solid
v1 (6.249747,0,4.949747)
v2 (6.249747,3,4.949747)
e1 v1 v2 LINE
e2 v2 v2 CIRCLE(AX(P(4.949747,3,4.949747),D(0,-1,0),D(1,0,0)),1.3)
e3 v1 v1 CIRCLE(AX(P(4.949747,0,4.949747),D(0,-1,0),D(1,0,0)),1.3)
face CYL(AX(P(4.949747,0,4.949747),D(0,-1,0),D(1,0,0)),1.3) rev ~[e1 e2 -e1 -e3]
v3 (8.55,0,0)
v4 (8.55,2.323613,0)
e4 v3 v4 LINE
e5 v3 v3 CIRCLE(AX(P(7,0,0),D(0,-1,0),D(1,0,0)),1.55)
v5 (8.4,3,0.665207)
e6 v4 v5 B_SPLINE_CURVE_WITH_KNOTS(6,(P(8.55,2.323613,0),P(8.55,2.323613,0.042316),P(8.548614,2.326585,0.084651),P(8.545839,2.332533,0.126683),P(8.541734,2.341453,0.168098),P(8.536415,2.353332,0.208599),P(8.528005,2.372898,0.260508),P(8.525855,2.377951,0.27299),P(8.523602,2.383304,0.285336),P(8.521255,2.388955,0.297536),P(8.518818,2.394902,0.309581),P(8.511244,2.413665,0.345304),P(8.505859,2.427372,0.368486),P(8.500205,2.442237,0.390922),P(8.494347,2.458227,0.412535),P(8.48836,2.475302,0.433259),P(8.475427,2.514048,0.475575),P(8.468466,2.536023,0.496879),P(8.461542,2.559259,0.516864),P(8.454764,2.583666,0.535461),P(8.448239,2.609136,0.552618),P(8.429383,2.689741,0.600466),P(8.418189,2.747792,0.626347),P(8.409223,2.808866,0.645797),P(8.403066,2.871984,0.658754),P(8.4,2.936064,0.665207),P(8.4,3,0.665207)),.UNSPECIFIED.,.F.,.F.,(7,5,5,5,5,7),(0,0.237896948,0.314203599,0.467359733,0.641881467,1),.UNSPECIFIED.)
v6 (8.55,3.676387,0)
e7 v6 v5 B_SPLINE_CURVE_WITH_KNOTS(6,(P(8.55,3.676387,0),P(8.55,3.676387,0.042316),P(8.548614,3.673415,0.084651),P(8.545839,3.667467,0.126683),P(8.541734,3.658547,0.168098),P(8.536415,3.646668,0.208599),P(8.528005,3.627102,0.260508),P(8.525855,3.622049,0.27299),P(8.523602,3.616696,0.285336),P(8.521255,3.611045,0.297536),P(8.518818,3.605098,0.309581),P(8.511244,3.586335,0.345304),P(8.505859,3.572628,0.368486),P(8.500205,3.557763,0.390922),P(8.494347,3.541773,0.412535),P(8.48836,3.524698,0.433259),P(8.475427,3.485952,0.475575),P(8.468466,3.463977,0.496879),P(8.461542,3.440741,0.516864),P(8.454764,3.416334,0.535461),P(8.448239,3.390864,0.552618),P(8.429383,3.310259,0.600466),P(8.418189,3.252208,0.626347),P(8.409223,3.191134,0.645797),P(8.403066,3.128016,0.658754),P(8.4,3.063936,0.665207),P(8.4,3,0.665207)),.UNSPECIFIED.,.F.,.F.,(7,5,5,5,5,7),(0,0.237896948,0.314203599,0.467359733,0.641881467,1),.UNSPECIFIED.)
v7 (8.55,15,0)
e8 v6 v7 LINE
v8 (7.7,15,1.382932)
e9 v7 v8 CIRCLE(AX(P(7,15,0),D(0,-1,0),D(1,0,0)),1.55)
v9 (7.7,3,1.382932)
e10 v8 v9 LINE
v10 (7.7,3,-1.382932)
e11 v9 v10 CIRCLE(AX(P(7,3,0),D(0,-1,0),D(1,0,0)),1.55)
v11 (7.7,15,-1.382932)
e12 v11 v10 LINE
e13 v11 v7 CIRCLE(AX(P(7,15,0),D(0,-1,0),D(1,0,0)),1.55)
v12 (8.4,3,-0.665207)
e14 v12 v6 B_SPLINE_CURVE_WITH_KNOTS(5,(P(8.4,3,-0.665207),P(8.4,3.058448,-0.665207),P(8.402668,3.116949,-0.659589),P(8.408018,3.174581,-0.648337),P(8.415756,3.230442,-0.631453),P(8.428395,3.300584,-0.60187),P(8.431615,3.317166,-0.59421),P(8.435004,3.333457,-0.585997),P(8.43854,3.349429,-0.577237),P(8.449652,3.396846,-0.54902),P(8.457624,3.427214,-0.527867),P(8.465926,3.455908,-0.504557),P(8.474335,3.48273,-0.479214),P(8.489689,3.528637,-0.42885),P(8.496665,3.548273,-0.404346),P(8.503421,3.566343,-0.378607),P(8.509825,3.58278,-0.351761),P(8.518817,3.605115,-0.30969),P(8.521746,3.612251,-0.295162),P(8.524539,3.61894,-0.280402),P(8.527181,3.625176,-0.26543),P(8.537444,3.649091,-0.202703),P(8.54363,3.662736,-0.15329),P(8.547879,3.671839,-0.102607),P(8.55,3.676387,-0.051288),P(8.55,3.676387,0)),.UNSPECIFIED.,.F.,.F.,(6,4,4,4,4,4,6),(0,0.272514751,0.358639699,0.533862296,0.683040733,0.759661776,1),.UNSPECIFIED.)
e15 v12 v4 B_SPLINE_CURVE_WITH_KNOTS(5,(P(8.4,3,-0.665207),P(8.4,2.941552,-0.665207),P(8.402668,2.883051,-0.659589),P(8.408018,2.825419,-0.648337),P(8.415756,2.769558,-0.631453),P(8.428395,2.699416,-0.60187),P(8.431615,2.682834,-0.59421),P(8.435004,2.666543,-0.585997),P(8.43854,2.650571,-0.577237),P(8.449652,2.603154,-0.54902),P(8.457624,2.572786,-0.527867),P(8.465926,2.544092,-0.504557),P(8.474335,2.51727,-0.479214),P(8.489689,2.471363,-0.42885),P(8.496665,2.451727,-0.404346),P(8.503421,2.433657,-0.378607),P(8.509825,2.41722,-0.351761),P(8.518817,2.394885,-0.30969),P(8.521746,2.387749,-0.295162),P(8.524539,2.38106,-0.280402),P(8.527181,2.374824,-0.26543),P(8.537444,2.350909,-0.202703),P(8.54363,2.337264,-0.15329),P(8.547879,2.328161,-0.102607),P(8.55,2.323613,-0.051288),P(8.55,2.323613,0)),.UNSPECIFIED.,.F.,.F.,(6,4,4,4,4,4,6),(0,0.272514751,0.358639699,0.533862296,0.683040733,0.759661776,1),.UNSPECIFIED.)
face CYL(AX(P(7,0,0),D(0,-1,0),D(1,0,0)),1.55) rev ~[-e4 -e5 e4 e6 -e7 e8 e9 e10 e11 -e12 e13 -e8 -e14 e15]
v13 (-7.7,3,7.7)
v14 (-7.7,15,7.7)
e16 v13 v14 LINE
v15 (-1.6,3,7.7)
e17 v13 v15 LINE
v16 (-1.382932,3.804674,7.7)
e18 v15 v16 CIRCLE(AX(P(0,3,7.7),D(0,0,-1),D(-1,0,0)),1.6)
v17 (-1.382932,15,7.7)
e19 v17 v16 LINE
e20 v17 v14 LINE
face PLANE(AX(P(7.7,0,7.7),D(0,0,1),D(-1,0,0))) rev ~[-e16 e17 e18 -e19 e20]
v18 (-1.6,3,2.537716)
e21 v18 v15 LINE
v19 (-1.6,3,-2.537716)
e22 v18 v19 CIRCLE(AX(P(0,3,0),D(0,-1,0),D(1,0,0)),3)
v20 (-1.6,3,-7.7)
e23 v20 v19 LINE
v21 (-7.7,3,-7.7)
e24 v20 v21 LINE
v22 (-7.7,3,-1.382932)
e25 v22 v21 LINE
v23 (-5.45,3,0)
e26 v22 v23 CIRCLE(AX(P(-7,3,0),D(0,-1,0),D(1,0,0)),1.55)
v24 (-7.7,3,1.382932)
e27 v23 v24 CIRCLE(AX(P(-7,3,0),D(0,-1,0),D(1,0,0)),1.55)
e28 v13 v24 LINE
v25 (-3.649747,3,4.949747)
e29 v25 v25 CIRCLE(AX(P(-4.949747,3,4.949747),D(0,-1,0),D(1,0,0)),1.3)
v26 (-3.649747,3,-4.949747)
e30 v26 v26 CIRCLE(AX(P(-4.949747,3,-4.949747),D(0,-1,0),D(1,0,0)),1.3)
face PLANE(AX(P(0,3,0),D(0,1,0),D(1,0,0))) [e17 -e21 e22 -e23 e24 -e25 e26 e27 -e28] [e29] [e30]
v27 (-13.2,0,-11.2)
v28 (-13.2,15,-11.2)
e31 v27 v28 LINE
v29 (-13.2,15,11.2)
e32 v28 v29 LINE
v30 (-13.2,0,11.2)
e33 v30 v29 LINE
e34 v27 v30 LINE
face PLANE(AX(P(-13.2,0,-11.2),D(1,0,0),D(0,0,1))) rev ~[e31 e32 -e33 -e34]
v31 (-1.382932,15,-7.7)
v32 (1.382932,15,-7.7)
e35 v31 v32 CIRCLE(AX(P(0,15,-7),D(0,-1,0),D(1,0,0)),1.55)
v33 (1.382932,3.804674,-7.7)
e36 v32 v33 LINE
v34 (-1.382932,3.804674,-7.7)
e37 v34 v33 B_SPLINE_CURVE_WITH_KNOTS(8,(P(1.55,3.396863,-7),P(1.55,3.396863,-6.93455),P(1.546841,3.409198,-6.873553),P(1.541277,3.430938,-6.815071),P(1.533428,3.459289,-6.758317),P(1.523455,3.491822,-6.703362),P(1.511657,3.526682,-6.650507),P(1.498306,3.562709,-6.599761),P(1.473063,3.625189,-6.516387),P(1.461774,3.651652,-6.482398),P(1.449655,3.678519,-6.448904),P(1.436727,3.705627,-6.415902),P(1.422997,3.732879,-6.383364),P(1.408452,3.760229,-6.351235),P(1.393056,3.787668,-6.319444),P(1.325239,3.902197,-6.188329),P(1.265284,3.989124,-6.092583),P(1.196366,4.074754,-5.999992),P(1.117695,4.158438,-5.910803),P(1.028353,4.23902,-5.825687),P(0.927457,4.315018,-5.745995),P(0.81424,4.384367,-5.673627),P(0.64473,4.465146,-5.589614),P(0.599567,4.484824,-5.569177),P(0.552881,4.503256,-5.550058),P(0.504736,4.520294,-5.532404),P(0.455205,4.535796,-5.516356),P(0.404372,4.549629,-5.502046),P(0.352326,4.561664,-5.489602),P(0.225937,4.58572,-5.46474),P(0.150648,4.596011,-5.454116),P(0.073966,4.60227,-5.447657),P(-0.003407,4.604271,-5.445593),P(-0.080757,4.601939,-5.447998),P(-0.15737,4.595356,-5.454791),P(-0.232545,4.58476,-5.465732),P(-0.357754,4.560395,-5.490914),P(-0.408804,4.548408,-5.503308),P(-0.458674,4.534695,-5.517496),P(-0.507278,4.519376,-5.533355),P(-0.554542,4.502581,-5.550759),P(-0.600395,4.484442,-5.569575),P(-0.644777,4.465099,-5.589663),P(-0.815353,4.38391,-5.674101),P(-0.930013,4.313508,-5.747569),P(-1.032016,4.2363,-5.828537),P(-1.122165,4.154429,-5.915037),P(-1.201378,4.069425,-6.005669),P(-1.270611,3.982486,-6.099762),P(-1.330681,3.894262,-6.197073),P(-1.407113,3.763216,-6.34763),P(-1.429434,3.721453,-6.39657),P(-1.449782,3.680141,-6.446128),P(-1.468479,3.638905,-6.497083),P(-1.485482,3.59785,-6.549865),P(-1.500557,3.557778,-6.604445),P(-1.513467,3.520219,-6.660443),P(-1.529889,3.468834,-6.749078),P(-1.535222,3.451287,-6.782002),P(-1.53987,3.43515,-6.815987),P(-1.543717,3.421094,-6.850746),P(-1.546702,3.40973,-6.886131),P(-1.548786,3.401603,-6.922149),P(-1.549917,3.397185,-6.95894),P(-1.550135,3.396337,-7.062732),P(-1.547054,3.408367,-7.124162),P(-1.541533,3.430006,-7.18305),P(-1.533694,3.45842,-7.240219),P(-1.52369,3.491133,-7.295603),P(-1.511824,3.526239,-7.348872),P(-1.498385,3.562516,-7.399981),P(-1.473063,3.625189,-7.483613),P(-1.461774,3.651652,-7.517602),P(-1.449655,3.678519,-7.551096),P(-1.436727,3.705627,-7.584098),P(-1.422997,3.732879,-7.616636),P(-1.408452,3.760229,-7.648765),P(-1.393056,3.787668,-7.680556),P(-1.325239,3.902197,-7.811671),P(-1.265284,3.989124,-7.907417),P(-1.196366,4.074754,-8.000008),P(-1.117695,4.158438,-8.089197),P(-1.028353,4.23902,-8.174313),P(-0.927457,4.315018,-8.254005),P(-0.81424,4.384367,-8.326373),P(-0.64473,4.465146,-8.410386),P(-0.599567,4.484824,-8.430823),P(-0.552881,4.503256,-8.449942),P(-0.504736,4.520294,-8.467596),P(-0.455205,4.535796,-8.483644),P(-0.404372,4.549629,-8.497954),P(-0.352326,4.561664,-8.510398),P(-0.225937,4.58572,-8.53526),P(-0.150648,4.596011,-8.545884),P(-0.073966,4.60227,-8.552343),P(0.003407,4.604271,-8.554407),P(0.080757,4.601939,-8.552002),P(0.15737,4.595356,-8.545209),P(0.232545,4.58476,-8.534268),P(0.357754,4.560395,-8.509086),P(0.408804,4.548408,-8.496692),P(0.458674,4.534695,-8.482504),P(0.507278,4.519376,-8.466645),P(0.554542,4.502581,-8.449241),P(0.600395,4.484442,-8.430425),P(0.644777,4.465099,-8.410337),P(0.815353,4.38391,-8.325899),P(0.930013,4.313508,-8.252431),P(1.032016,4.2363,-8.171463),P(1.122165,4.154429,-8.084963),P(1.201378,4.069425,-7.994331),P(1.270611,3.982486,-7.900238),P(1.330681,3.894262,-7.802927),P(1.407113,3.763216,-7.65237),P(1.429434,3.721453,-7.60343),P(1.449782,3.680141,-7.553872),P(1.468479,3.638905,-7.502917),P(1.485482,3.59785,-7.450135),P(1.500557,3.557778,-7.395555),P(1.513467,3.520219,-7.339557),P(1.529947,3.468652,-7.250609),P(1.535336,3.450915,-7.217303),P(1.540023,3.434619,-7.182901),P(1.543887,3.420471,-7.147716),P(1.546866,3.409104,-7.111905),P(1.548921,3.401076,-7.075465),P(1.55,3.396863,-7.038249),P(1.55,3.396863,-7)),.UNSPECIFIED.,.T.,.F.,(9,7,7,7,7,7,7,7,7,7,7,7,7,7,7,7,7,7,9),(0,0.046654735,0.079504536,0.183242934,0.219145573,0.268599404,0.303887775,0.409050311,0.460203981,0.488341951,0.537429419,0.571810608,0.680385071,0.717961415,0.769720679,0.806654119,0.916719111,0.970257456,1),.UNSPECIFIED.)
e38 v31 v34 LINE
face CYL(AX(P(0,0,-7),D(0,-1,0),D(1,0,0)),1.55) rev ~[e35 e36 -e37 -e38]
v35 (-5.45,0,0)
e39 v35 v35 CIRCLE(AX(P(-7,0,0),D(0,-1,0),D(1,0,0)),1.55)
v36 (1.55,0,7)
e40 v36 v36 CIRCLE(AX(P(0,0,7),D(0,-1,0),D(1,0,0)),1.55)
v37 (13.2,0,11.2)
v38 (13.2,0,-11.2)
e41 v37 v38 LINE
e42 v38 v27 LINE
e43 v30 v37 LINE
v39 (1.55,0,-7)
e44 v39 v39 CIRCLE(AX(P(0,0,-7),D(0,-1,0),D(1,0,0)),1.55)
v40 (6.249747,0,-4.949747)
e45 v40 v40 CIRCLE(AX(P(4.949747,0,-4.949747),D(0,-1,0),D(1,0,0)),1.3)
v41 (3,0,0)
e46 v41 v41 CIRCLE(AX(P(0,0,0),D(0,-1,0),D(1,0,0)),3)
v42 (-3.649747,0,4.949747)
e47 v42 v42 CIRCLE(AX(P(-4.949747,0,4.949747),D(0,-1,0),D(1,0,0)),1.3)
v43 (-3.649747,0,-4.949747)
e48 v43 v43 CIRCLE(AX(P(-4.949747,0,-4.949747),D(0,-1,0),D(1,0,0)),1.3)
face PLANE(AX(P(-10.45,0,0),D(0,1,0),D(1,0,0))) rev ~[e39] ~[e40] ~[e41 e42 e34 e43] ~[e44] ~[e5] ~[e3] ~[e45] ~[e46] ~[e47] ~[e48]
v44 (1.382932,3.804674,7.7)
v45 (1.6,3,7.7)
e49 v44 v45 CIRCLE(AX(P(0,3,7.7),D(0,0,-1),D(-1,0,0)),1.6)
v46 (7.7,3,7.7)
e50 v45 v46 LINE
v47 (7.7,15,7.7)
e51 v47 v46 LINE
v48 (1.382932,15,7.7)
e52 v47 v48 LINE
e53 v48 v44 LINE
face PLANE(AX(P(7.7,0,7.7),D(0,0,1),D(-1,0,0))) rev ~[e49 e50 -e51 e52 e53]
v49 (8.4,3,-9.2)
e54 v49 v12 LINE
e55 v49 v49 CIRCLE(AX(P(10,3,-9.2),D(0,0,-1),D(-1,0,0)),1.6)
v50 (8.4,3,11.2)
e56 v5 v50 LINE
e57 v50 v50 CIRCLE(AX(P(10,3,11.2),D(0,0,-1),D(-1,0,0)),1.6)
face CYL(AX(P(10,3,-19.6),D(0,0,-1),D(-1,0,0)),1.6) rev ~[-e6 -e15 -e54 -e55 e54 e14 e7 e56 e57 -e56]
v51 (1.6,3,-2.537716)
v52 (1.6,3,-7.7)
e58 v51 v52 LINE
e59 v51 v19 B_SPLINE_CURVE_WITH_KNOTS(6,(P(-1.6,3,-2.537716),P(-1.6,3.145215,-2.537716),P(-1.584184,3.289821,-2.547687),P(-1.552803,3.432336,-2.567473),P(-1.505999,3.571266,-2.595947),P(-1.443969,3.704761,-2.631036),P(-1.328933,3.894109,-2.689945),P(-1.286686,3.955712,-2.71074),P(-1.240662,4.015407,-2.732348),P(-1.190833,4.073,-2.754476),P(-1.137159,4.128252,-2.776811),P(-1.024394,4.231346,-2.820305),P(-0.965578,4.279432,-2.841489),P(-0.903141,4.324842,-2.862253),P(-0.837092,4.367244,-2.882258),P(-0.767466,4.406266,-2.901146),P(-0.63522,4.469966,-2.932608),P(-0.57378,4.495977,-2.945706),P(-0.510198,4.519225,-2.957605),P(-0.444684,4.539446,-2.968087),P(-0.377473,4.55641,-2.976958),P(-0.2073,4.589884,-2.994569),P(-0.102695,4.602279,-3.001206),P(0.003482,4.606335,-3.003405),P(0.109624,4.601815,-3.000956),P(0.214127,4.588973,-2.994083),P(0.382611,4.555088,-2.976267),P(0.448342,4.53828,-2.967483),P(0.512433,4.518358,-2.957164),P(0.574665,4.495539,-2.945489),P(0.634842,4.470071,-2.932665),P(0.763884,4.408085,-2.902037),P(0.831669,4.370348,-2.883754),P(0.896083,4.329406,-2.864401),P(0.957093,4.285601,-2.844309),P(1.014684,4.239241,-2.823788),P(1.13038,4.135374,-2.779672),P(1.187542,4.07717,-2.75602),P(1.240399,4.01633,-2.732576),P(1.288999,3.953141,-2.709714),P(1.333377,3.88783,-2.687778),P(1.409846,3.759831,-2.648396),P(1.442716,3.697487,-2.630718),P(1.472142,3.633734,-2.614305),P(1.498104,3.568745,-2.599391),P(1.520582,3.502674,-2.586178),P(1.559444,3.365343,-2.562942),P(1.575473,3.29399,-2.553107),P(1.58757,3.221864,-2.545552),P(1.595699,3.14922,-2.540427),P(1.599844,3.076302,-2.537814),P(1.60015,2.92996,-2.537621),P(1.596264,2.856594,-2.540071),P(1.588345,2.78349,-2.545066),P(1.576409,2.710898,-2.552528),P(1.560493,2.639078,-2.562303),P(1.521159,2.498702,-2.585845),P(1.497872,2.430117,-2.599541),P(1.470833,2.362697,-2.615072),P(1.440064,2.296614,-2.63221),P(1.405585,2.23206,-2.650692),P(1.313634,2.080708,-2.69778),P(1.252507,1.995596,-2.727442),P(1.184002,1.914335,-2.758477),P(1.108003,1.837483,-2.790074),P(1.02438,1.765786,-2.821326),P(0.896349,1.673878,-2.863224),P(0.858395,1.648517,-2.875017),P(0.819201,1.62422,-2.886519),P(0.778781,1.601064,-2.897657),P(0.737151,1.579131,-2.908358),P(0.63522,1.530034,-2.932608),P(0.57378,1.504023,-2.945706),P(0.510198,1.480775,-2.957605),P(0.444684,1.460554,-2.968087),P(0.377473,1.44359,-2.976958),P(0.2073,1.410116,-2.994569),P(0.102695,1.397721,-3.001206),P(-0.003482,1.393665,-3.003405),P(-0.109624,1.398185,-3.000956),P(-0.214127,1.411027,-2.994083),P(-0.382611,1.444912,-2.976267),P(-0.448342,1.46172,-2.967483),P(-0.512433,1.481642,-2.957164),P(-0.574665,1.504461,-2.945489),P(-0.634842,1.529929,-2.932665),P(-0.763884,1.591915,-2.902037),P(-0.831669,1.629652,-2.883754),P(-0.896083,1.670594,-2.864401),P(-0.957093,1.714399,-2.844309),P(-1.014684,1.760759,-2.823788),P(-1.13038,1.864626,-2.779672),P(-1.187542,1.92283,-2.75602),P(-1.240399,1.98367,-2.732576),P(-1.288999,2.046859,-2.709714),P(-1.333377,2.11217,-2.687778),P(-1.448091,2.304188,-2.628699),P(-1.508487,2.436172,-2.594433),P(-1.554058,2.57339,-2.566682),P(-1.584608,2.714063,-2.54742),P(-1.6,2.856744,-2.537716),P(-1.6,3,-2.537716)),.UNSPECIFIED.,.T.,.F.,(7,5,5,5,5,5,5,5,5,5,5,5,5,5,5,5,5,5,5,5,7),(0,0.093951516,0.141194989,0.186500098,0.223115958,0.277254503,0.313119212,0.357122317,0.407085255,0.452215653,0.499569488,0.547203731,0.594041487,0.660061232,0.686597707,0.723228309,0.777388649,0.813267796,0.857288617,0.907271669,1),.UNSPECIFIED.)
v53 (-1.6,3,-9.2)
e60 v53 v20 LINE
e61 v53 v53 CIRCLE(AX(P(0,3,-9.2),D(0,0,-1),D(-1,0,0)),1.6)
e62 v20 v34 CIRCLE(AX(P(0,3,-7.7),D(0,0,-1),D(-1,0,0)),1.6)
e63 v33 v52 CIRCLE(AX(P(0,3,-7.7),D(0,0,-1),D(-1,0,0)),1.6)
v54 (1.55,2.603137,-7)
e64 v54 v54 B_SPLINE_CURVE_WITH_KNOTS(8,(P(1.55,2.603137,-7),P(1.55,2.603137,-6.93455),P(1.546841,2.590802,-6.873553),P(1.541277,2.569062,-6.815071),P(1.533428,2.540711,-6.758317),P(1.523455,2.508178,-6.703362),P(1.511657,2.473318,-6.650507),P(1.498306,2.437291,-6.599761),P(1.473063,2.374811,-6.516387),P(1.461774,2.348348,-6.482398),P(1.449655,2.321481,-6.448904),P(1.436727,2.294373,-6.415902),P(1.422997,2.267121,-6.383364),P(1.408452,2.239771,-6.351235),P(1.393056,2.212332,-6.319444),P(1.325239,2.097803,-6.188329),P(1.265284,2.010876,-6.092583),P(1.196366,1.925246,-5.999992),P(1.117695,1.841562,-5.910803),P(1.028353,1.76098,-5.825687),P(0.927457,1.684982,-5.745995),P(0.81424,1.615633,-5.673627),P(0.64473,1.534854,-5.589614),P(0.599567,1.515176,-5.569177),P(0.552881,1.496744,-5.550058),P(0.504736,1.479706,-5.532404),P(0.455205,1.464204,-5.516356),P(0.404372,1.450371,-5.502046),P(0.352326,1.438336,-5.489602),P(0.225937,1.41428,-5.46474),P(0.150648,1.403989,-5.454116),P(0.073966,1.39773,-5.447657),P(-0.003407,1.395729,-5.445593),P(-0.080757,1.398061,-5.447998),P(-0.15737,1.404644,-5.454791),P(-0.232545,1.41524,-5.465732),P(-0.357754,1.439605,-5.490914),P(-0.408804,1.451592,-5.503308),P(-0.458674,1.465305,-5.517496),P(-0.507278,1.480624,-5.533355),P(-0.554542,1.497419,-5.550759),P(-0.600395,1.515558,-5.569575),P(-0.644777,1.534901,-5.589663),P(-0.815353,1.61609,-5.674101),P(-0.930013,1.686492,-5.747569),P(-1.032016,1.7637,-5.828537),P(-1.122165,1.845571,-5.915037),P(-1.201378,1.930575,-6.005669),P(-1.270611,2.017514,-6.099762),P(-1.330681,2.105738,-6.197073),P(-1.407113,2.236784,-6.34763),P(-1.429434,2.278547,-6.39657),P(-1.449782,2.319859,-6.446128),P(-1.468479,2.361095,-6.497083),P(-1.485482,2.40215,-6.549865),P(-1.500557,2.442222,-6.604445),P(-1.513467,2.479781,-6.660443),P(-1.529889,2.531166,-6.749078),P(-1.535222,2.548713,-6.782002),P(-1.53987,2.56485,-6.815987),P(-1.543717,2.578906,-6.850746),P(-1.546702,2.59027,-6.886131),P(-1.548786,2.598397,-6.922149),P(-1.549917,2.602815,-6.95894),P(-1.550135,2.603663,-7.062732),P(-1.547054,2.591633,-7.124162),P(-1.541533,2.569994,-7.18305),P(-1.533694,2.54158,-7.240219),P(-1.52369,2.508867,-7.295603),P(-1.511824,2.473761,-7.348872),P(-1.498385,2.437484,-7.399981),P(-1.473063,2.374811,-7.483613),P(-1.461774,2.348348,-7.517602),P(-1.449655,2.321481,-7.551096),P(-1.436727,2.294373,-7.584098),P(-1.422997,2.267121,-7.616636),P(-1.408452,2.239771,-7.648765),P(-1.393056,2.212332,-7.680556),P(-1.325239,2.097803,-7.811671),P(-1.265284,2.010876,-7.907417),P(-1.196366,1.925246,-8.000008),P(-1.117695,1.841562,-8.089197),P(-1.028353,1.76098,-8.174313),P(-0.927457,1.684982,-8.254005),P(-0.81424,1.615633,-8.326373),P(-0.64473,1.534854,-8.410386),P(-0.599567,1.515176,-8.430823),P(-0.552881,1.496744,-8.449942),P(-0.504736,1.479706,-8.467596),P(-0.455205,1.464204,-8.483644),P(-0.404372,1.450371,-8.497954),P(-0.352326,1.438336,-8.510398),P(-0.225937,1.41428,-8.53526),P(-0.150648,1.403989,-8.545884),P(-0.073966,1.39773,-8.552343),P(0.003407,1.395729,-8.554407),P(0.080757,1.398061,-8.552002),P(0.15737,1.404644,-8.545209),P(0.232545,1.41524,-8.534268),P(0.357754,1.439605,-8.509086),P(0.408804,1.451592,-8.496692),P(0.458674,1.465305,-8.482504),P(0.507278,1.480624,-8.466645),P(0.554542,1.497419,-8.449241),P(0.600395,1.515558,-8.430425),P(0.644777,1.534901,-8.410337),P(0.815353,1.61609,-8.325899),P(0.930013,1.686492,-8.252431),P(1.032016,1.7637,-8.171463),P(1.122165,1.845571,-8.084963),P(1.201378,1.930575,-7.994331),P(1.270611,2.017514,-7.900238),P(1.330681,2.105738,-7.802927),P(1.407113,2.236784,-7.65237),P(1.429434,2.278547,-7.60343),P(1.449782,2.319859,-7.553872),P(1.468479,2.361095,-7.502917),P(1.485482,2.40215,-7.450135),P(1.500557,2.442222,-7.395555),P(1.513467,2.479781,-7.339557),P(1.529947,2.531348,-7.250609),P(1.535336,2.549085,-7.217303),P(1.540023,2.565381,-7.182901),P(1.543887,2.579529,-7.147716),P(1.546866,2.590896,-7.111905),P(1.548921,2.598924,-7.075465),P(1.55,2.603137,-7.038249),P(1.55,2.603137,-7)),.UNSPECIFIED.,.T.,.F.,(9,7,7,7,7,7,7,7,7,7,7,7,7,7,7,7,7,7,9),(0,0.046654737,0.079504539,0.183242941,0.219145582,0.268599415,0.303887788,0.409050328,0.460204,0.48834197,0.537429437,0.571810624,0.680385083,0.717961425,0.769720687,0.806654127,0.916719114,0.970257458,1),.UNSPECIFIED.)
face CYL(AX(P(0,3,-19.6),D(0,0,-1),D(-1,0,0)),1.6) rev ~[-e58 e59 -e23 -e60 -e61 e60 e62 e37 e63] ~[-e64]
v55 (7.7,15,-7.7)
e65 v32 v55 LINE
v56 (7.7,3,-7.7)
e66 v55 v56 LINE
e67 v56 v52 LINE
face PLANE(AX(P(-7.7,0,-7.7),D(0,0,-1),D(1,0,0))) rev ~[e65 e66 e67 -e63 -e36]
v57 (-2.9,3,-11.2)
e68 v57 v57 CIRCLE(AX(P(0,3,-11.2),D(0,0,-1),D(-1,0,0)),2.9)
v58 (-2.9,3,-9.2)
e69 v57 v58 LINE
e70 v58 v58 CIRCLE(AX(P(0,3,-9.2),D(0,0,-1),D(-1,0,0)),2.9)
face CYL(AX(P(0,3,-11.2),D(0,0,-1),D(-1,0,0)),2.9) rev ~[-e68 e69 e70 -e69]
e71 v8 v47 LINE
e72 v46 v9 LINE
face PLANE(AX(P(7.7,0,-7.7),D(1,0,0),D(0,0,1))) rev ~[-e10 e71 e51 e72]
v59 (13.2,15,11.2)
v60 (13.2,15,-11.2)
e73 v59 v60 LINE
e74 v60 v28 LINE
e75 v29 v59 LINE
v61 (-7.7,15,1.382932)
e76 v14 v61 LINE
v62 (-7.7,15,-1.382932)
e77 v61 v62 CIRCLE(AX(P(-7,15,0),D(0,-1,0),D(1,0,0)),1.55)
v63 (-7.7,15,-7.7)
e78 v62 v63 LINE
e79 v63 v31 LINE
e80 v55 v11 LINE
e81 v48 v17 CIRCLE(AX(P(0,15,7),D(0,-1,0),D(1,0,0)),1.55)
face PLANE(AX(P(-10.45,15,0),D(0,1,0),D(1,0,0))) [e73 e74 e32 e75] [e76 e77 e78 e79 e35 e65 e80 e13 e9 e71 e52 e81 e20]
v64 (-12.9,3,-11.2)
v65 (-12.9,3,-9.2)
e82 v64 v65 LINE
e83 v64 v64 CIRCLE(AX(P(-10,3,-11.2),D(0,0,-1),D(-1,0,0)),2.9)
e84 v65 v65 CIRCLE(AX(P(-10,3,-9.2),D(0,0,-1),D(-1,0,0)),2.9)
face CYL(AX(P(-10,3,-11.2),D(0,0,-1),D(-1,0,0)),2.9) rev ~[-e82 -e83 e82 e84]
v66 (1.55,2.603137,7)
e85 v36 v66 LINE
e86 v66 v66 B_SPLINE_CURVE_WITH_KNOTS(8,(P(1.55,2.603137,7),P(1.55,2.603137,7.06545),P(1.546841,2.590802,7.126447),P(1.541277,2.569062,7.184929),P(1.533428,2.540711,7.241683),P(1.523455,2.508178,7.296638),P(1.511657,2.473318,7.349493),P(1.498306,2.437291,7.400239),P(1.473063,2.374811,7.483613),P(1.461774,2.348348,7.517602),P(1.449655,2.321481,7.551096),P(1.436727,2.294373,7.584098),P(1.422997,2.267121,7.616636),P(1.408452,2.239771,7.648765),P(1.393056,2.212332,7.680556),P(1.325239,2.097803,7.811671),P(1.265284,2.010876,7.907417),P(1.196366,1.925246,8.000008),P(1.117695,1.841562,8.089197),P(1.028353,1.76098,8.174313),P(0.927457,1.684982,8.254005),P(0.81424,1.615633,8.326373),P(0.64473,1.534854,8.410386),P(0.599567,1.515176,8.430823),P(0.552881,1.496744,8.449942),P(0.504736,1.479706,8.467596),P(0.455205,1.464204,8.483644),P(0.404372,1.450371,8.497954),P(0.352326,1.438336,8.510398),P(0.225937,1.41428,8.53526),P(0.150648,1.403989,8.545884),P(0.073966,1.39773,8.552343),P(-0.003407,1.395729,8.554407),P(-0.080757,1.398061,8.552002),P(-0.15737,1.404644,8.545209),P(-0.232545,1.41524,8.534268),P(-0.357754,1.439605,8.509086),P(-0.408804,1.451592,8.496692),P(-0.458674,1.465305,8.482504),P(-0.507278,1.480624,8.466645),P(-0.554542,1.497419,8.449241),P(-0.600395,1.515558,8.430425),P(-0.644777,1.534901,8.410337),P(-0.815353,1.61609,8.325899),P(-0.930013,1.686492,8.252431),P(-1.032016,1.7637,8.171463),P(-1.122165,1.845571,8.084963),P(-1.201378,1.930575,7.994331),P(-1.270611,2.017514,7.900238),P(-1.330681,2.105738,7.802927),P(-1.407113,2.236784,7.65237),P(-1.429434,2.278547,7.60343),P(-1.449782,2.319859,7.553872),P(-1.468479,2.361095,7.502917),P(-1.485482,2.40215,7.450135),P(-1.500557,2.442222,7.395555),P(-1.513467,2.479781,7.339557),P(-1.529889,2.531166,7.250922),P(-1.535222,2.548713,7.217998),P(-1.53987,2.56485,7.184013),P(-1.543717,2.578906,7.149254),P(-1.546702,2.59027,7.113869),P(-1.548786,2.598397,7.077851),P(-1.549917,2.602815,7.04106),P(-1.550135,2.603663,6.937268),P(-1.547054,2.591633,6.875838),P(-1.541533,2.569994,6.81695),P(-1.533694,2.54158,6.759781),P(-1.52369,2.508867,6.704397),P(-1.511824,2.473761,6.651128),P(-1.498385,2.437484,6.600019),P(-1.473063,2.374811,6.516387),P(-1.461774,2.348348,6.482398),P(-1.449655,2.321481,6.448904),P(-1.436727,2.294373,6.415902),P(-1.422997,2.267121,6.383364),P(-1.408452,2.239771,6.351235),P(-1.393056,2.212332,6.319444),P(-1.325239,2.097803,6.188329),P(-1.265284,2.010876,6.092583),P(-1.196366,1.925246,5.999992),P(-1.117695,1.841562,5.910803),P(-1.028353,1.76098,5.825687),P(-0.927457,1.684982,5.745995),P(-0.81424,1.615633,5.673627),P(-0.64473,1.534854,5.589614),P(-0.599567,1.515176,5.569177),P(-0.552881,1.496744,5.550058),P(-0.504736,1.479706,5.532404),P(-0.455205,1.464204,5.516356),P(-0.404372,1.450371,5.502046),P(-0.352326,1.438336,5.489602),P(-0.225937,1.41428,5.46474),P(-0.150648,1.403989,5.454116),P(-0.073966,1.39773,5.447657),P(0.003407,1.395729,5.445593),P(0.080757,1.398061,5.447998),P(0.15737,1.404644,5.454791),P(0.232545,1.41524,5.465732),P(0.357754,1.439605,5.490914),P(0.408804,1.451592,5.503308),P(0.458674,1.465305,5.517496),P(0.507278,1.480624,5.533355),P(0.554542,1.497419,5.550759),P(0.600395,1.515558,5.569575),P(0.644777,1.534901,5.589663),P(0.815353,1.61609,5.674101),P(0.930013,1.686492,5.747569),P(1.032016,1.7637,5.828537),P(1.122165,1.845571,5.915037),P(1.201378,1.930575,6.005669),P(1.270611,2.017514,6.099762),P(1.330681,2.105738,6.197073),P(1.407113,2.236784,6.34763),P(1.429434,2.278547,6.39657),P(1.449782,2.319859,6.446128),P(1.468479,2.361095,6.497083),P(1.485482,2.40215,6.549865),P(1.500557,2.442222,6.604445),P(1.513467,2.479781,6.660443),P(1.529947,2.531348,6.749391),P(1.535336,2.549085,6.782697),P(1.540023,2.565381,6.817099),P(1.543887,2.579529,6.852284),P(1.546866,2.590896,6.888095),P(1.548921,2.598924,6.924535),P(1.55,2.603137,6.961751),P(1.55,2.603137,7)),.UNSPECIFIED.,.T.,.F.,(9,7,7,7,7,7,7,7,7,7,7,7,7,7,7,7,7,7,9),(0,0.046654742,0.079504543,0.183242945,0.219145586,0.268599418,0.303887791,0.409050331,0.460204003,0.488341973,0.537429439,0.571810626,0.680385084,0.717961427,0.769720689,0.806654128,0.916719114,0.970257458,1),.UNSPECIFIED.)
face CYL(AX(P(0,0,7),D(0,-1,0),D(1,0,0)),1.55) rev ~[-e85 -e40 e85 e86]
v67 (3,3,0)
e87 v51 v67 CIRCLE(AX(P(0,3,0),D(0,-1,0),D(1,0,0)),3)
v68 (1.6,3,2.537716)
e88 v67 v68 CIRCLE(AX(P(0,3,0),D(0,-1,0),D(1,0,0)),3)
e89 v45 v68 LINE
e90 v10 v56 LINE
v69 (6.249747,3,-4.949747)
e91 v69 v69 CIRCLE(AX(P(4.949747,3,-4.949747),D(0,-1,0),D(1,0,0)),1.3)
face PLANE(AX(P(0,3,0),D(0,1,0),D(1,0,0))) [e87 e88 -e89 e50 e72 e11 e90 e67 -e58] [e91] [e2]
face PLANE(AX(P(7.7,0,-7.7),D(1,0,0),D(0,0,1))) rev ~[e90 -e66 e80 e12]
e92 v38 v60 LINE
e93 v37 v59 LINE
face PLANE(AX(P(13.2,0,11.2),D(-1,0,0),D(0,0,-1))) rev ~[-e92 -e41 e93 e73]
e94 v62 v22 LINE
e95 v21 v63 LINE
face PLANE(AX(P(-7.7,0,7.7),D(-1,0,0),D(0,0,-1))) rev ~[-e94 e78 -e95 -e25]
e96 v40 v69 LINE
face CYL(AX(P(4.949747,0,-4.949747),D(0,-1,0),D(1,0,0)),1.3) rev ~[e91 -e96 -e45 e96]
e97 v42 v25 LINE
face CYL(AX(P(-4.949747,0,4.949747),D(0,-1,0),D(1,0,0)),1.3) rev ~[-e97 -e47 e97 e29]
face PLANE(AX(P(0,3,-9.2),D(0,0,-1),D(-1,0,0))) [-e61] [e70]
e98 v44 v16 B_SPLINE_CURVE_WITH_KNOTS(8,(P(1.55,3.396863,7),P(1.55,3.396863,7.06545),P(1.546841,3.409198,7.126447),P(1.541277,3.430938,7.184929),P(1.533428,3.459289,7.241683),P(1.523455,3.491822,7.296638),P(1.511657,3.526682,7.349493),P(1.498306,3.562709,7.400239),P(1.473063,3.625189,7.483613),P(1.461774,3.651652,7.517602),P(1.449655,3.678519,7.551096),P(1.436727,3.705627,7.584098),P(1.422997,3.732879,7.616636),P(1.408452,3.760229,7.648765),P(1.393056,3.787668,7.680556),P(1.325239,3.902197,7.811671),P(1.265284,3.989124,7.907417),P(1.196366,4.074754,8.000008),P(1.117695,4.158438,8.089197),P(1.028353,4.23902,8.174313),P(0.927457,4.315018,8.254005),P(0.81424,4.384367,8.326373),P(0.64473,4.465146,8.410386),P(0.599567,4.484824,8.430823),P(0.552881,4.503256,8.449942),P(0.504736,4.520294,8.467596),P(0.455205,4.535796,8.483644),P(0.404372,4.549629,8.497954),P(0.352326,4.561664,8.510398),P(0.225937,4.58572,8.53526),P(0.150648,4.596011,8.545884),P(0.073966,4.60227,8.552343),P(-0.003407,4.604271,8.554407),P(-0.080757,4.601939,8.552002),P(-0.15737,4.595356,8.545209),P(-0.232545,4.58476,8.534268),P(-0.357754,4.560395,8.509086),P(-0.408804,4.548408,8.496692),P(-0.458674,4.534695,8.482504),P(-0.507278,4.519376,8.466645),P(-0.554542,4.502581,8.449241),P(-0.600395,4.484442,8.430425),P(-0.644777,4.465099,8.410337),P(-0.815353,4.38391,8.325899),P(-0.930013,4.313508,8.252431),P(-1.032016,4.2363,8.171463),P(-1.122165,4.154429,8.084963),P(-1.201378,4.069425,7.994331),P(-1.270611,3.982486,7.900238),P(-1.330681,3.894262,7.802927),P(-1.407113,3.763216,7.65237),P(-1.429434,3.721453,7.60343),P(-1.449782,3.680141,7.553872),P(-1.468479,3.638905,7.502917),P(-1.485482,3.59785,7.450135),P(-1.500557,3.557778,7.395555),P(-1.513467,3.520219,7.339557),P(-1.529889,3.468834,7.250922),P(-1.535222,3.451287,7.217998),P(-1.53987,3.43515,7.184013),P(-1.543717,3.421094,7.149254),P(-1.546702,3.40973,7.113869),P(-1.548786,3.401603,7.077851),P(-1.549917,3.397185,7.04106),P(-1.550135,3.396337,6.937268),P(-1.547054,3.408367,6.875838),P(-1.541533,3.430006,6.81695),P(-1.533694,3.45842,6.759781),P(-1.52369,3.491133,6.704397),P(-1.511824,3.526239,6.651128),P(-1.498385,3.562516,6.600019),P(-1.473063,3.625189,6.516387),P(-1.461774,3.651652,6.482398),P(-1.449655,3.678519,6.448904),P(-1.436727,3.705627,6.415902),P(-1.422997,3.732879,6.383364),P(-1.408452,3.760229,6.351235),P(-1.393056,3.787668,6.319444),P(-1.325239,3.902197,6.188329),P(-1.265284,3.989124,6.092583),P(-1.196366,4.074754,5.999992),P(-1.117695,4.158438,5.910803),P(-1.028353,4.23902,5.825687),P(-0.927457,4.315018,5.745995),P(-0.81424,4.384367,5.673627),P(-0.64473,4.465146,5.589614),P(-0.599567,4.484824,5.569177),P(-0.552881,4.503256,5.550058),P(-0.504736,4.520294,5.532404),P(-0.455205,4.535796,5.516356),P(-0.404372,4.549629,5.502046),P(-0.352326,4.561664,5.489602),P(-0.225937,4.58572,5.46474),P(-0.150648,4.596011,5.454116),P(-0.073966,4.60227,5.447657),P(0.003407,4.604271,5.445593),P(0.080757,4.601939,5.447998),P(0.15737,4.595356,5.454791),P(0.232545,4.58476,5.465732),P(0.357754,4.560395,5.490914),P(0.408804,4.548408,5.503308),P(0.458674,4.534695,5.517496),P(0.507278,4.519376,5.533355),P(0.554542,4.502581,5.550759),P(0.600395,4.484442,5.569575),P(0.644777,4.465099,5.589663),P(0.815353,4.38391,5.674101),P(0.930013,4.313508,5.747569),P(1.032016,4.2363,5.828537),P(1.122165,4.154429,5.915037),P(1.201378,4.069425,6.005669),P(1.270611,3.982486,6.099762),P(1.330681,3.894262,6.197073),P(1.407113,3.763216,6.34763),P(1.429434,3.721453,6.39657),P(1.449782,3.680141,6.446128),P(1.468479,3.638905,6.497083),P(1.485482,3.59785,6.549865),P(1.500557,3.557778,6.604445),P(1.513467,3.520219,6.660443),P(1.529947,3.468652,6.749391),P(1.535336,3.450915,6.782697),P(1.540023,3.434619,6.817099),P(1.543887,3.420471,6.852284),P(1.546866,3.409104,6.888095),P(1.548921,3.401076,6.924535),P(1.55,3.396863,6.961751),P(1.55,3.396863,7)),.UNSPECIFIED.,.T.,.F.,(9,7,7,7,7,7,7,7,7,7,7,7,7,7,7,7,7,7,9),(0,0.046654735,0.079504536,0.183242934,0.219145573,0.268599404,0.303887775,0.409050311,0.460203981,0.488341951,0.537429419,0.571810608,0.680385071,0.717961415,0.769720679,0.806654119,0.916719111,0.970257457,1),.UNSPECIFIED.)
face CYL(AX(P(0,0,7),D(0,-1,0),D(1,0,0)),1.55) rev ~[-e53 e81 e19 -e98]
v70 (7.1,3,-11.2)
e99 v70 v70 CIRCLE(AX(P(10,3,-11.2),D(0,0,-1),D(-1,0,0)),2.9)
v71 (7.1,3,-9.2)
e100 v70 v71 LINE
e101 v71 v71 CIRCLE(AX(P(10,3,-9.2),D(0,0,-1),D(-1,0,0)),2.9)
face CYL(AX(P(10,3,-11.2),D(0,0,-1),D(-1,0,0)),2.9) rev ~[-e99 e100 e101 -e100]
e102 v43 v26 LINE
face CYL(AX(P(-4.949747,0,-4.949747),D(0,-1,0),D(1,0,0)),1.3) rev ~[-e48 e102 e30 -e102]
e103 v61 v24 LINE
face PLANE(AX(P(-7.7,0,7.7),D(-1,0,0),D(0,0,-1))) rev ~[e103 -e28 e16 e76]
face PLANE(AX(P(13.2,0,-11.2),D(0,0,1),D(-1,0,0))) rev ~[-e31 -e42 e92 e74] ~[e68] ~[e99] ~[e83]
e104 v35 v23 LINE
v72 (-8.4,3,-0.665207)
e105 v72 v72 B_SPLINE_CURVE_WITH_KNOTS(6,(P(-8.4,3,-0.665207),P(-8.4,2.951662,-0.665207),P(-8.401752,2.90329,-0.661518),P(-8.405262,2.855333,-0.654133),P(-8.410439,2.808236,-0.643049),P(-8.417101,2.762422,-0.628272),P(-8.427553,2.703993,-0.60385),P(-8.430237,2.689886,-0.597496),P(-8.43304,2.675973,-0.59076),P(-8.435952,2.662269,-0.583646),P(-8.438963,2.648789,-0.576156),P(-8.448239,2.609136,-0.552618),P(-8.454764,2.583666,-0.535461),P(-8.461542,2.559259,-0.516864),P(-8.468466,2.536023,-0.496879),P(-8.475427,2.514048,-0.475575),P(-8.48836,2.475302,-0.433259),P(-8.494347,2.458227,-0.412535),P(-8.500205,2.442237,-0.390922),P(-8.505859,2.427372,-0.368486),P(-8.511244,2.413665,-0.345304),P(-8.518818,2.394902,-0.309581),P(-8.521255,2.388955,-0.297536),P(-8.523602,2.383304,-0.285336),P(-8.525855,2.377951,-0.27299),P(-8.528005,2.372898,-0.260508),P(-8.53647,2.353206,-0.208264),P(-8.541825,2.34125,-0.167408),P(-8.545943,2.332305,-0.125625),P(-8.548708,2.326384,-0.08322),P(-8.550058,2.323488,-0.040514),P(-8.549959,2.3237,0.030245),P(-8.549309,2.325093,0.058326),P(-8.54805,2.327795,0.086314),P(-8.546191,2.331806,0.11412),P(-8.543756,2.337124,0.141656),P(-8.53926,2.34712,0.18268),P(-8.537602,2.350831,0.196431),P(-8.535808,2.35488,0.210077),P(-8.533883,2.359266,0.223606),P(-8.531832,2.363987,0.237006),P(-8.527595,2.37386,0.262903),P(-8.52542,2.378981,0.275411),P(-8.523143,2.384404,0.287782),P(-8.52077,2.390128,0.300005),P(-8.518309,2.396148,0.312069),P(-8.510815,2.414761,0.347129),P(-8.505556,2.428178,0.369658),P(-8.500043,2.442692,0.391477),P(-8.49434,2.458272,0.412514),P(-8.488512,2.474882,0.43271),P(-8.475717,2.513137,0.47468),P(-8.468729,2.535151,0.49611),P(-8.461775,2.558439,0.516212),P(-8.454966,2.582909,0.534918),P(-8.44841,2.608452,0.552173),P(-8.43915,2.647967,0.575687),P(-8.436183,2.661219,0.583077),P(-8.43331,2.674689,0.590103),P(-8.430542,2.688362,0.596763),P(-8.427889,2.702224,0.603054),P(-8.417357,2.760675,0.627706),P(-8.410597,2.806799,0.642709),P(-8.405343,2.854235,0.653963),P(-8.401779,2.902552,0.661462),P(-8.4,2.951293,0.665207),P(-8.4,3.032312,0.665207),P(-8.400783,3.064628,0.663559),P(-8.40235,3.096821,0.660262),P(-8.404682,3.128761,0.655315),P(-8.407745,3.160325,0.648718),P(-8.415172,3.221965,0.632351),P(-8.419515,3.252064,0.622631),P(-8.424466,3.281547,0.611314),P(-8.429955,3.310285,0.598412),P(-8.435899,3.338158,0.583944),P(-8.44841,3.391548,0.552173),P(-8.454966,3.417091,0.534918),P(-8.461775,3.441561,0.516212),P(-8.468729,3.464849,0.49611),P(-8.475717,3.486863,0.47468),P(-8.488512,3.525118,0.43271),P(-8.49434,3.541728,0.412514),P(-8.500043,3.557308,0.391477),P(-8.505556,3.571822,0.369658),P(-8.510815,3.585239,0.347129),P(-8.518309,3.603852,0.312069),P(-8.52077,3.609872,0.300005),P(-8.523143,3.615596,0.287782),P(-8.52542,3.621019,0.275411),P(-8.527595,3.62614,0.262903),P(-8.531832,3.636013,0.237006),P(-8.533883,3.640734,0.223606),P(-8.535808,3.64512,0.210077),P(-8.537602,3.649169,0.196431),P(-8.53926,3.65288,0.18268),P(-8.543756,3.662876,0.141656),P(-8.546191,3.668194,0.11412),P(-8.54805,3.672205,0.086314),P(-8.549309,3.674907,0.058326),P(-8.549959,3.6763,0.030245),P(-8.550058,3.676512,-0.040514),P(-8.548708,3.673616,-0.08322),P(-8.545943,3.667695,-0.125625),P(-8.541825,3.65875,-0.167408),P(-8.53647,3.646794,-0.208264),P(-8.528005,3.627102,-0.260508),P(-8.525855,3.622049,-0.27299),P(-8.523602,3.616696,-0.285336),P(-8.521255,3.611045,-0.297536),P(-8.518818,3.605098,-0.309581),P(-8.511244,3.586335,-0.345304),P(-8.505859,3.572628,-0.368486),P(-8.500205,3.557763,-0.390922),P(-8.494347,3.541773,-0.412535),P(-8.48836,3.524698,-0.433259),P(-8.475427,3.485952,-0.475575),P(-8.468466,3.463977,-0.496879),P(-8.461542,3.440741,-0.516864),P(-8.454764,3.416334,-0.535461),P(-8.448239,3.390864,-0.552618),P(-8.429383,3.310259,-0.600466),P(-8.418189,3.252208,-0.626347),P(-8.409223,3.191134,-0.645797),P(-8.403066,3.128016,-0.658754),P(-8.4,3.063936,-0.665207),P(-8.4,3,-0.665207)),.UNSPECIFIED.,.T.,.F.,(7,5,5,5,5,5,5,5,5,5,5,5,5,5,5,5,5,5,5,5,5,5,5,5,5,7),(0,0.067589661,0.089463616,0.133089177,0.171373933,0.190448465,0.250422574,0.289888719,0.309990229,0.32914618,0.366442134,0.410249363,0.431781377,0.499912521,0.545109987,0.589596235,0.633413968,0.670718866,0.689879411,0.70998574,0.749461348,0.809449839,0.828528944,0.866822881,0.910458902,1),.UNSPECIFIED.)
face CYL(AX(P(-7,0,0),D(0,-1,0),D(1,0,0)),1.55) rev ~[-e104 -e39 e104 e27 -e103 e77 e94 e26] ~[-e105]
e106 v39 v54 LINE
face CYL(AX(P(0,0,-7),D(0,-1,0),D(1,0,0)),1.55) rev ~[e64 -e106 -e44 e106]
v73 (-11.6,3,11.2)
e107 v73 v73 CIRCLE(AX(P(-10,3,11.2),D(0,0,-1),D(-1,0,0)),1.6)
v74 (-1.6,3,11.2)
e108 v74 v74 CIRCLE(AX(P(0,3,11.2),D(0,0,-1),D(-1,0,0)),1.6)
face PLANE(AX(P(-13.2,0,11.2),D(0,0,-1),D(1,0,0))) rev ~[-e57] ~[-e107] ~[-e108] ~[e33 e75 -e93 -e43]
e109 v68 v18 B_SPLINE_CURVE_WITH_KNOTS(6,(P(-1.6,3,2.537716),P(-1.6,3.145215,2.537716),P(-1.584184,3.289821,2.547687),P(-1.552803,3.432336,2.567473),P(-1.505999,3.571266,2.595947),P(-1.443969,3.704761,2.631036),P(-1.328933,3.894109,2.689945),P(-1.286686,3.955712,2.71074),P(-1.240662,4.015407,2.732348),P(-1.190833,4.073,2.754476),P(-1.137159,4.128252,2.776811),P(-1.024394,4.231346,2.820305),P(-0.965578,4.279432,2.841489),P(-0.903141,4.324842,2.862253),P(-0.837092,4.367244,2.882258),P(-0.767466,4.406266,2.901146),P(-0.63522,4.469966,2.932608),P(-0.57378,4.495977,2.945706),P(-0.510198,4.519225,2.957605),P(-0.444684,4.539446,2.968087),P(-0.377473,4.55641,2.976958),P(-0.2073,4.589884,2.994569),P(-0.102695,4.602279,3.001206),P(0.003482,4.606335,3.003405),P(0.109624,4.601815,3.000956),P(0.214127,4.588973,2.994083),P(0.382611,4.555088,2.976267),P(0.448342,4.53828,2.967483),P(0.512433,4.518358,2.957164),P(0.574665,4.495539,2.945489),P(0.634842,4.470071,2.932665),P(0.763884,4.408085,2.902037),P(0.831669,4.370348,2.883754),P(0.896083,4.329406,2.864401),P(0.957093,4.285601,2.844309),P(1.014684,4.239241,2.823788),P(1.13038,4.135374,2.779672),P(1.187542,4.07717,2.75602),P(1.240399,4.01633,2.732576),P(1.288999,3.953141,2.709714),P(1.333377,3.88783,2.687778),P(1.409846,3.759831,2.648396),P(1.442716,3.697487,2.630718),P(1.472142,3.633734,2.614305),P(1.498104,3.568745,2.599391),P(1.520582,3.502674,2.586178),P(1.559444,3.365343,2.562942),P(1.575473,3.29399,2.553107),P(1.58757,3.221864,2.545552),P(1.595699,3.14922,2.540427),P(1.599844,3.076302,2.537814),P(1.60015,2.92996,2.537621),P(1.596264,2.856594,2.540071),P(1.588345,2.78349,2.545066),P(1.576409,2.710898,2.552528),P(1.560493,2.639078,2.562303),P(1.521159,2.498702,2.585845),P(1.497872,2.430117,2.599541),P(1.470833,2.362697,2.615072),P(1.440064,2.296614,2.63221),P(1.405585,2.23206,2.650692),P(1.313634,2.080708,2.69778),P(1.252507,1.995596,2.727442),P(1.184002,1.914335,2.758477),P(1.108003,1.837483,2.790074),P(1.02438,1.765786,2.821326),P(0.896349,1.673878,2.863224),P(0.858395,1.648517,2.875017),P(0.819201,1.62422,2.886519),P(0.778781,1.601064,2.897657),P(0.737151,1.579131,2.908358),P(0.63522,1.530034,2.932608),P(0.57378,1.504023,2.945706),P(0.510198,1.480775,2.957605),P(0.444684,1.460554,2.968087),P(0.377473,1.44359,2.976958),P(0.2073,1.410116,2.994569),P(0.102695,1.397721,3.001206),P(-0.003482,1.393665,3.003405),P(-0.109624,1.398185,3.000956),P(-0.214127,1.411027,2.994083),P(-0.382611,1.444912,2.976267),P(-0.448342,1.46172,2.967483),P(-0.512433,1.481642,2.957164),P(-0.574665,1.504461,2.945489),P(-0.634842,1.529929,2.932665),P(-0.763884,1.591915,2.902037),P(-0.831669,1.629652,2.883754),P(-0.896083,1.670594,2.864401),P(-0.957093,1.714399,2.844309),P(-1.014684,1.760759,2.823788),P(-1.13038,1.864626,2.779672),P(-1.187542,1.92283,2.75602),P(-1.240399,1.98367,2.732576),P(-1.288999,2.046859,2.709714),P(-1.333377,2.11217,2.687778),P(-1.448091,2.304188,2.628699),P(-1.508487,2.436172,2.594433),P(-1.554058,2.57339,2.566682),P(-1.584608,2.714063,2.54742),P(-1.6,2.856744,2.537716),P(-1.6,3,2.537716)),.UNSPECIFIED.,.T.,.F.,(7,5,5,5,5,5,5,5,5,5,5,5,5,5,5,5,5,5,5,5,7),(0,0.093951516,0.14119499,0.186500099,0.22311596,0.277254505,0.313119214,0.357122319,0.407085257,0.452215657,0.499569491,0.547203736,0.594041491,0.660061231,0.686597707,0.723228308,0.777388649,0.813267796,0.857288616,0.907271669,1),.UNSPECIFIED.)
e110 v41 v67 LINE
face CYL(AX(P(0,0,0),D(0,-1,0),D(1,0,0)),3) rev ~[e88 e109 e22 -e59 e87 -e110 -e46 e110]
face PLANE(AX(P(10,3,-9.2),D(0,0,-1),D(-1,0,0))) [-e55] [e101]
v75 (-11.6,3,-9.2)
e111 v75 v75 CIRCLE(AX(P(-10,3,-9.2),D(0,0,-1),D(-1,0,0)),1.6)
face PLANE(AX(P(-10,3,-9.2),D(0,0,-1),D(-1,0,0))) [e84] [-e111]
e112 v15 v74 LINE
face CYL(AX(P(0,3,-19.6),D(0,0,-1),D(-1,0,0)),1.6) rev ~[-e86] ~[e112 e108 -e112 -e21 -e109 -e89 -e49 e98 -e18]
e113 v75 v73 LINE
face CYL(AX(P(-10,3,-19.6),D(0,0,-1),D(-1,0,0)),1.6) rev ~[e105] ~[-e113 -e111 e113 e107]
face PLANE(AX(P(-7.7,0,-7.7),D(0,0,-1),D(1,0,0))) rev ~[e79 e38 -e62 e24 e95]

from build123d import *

# Parameters (mm, degrees)
SKETCH_1_W          = 15.4
SKETCH_1_H          = 22.4
EXTRUDE_2_DEPTH     = 3
EXTRUDE_3_DEPTH     = 10
EXTRUDE_3_2_DEPTH   = 10
EXTRUDE_4_DEPTH     = 15
SKETCH_3_R          = 1.6
CUT_EXTRUDE_2_DEPTH = 31.8
SKETCH_9_R          = 1.3
SKETCH_9_R_2        = 3
SKETCH_9_R_3        = 1.55
CUT_EXTRUDE_6_DEPTH = 16
SKETCH_10_R         = 2.9
CUT_EXTRUDE_7_DEPTH = 2


with BuildPart() as part:
    # 草图1 → 凸台-拉伸2 (new body)
    with BuildSketch(Plane(origin=(0, 0, 0), x_dir=(1, 0, 0), z_dir=(0, 1, 0))):
        Rectangle(SKETCH_1_W, SKETCH_1_H)
    extrude(amount=EXTRUDE_2_DEPTH)



with BuildPart() as body_2:
    # 草图1<4> → 凸台-拉伸3 (new body)
    with BuildSketch(Plane(origin=(0, 0, 0), x_dir=(1, 0, 0), z_dir=(0, 1, 0))):
        Polygon((7.7, -11.2), (7.7, -7.7), (0, -7.7), (-4.7, -7.7), (-7.7, -7.7), (-7.7, -11.2), align=None)
    extrude(amount=EXTRUDE_3_DEPTH)


with BuildPart() as body_3:
    # 草图1<4> → Extrude 3 2 (new body)
    with BuildSketch(Plane(origin=(0, 0, 0), x_dir=(1, 0, 0), z_dir=(0, 1, 0))):
        Polygon((-7.7, 7.7), (0, 7.7), (7.7, 7.7), (7.7, 11.2), (-7.7, 11.2), align=None)
    extrude(amount=EXTRUDE_3_2_DEPTH)


with BuildPart() as part_1:
    add(part.part)

    add(body_2.part)  # 凸台-拉伸4 merges body 2

    add(body_3.part)  # 凸台-拉伸4 merges body 3
    # 草图1<5> → 凸台-拉伸4 (add)
    with BuildSketch(Plane(origin=(0, 0, 0), x_dir=(1, 0, 0), z_dir=(0, 1, 0))):
        Polygon((-7.7, 0), (-7.7, 7.7), (-7.7, 11.2), (-13.2, 11.2), (-13.2, -11.2), (-7.7, -11.2), (-7.7, -7.7), align=None)
        Polygon((7.7, 11.2), (7.7, 7.7), (7.7, 0), (7.7, -7.7), (7.7, -11.2), (13.2, -11.2), (13.2, 11.2), align=None)
        Polygon((7.7, -11.2), (7.7, -7.7), (0, -7.7), (-4.7, -7.7), (-7.7, -7.7), (-7.7, -11.2), align=None)
        Polygon((-7.7, 7.7), (0, 7.7), (7.7, 7.7), (7.7, 11.2), (-7.7, 11.2), align=None)
    extrude(amount=EXTRUDE_4_DEPTH)

    # 草图3 → 切除-拉伸2 (cut, through all)
    with BuildSketch(Plane(origin=(0, 0, -19.6), x_dir=(-1, 0, 0), z_dir=(0, 0, -1))):
        with Locations((0, 3)):
            Circle(SKETCH_3_R)
        with Locations((-10, 3)):
            Circle(SKETCH_3_R)
        with Locations((10, 3)):
            Circle(SKETCH_3_R)
    extrude(amount=-CUT_EXTRUDE_2_DEPTH, mode=Mode.SUBTRACT)

    # 草图9 → 切除-拉伸6 (cut, through all)
    with BuildSketch(Plane.XZ):
        with Locations((-4.949747468, -4.949747468)):
            Circle(SKETCH_9_R)
        with Locations((4.949747468, -4.949747468)):
            Circle(SKETCH_9_R)
        with Locations((4.949747468, 4.949747468)):
            Circle(SKETCH_9_R)
        with Locations((-4.949747468, 4.949747468)):
            Circle(SKETCH_9_R)
        Circle(SKETCH_9_R_2)
        with Locations((7, 0)):
            Circle(SKETCH_9_R_3)
        with Locations((0, 7)):
            Circle(SKETCH_9_R_3)
        with Locations((0, -7)):
            Circle(SKETCH_9_R_3)
        with Locations((-7, 0)):
            Circle(SKETCH_9_R_3)
    extrude(amount=-CUT_EXTRUDE_6_DEPTH, mode=Mode.SUBTRACT)

    # 草图10 → 切除-拉伸7 (cut)
    with BuildSketch(Plane(origin=(0, 0, -11.2), x_dir=(-1, 0, 0), z_dir=(0, 0, -1))):
        with Locations((10, 3)):
            Circle(SKETCH_10_R)
        with Locations((0, 3)):
            Circle(SKETCH_10_R)
        with Locations((-10, 3)):
            Circle(SKETCH_10_R)
    extrude(amount=-CUT_EXTRUDE_7_DEPTH, mode=Mode.SUBTRACT)


solid = part_1.part
